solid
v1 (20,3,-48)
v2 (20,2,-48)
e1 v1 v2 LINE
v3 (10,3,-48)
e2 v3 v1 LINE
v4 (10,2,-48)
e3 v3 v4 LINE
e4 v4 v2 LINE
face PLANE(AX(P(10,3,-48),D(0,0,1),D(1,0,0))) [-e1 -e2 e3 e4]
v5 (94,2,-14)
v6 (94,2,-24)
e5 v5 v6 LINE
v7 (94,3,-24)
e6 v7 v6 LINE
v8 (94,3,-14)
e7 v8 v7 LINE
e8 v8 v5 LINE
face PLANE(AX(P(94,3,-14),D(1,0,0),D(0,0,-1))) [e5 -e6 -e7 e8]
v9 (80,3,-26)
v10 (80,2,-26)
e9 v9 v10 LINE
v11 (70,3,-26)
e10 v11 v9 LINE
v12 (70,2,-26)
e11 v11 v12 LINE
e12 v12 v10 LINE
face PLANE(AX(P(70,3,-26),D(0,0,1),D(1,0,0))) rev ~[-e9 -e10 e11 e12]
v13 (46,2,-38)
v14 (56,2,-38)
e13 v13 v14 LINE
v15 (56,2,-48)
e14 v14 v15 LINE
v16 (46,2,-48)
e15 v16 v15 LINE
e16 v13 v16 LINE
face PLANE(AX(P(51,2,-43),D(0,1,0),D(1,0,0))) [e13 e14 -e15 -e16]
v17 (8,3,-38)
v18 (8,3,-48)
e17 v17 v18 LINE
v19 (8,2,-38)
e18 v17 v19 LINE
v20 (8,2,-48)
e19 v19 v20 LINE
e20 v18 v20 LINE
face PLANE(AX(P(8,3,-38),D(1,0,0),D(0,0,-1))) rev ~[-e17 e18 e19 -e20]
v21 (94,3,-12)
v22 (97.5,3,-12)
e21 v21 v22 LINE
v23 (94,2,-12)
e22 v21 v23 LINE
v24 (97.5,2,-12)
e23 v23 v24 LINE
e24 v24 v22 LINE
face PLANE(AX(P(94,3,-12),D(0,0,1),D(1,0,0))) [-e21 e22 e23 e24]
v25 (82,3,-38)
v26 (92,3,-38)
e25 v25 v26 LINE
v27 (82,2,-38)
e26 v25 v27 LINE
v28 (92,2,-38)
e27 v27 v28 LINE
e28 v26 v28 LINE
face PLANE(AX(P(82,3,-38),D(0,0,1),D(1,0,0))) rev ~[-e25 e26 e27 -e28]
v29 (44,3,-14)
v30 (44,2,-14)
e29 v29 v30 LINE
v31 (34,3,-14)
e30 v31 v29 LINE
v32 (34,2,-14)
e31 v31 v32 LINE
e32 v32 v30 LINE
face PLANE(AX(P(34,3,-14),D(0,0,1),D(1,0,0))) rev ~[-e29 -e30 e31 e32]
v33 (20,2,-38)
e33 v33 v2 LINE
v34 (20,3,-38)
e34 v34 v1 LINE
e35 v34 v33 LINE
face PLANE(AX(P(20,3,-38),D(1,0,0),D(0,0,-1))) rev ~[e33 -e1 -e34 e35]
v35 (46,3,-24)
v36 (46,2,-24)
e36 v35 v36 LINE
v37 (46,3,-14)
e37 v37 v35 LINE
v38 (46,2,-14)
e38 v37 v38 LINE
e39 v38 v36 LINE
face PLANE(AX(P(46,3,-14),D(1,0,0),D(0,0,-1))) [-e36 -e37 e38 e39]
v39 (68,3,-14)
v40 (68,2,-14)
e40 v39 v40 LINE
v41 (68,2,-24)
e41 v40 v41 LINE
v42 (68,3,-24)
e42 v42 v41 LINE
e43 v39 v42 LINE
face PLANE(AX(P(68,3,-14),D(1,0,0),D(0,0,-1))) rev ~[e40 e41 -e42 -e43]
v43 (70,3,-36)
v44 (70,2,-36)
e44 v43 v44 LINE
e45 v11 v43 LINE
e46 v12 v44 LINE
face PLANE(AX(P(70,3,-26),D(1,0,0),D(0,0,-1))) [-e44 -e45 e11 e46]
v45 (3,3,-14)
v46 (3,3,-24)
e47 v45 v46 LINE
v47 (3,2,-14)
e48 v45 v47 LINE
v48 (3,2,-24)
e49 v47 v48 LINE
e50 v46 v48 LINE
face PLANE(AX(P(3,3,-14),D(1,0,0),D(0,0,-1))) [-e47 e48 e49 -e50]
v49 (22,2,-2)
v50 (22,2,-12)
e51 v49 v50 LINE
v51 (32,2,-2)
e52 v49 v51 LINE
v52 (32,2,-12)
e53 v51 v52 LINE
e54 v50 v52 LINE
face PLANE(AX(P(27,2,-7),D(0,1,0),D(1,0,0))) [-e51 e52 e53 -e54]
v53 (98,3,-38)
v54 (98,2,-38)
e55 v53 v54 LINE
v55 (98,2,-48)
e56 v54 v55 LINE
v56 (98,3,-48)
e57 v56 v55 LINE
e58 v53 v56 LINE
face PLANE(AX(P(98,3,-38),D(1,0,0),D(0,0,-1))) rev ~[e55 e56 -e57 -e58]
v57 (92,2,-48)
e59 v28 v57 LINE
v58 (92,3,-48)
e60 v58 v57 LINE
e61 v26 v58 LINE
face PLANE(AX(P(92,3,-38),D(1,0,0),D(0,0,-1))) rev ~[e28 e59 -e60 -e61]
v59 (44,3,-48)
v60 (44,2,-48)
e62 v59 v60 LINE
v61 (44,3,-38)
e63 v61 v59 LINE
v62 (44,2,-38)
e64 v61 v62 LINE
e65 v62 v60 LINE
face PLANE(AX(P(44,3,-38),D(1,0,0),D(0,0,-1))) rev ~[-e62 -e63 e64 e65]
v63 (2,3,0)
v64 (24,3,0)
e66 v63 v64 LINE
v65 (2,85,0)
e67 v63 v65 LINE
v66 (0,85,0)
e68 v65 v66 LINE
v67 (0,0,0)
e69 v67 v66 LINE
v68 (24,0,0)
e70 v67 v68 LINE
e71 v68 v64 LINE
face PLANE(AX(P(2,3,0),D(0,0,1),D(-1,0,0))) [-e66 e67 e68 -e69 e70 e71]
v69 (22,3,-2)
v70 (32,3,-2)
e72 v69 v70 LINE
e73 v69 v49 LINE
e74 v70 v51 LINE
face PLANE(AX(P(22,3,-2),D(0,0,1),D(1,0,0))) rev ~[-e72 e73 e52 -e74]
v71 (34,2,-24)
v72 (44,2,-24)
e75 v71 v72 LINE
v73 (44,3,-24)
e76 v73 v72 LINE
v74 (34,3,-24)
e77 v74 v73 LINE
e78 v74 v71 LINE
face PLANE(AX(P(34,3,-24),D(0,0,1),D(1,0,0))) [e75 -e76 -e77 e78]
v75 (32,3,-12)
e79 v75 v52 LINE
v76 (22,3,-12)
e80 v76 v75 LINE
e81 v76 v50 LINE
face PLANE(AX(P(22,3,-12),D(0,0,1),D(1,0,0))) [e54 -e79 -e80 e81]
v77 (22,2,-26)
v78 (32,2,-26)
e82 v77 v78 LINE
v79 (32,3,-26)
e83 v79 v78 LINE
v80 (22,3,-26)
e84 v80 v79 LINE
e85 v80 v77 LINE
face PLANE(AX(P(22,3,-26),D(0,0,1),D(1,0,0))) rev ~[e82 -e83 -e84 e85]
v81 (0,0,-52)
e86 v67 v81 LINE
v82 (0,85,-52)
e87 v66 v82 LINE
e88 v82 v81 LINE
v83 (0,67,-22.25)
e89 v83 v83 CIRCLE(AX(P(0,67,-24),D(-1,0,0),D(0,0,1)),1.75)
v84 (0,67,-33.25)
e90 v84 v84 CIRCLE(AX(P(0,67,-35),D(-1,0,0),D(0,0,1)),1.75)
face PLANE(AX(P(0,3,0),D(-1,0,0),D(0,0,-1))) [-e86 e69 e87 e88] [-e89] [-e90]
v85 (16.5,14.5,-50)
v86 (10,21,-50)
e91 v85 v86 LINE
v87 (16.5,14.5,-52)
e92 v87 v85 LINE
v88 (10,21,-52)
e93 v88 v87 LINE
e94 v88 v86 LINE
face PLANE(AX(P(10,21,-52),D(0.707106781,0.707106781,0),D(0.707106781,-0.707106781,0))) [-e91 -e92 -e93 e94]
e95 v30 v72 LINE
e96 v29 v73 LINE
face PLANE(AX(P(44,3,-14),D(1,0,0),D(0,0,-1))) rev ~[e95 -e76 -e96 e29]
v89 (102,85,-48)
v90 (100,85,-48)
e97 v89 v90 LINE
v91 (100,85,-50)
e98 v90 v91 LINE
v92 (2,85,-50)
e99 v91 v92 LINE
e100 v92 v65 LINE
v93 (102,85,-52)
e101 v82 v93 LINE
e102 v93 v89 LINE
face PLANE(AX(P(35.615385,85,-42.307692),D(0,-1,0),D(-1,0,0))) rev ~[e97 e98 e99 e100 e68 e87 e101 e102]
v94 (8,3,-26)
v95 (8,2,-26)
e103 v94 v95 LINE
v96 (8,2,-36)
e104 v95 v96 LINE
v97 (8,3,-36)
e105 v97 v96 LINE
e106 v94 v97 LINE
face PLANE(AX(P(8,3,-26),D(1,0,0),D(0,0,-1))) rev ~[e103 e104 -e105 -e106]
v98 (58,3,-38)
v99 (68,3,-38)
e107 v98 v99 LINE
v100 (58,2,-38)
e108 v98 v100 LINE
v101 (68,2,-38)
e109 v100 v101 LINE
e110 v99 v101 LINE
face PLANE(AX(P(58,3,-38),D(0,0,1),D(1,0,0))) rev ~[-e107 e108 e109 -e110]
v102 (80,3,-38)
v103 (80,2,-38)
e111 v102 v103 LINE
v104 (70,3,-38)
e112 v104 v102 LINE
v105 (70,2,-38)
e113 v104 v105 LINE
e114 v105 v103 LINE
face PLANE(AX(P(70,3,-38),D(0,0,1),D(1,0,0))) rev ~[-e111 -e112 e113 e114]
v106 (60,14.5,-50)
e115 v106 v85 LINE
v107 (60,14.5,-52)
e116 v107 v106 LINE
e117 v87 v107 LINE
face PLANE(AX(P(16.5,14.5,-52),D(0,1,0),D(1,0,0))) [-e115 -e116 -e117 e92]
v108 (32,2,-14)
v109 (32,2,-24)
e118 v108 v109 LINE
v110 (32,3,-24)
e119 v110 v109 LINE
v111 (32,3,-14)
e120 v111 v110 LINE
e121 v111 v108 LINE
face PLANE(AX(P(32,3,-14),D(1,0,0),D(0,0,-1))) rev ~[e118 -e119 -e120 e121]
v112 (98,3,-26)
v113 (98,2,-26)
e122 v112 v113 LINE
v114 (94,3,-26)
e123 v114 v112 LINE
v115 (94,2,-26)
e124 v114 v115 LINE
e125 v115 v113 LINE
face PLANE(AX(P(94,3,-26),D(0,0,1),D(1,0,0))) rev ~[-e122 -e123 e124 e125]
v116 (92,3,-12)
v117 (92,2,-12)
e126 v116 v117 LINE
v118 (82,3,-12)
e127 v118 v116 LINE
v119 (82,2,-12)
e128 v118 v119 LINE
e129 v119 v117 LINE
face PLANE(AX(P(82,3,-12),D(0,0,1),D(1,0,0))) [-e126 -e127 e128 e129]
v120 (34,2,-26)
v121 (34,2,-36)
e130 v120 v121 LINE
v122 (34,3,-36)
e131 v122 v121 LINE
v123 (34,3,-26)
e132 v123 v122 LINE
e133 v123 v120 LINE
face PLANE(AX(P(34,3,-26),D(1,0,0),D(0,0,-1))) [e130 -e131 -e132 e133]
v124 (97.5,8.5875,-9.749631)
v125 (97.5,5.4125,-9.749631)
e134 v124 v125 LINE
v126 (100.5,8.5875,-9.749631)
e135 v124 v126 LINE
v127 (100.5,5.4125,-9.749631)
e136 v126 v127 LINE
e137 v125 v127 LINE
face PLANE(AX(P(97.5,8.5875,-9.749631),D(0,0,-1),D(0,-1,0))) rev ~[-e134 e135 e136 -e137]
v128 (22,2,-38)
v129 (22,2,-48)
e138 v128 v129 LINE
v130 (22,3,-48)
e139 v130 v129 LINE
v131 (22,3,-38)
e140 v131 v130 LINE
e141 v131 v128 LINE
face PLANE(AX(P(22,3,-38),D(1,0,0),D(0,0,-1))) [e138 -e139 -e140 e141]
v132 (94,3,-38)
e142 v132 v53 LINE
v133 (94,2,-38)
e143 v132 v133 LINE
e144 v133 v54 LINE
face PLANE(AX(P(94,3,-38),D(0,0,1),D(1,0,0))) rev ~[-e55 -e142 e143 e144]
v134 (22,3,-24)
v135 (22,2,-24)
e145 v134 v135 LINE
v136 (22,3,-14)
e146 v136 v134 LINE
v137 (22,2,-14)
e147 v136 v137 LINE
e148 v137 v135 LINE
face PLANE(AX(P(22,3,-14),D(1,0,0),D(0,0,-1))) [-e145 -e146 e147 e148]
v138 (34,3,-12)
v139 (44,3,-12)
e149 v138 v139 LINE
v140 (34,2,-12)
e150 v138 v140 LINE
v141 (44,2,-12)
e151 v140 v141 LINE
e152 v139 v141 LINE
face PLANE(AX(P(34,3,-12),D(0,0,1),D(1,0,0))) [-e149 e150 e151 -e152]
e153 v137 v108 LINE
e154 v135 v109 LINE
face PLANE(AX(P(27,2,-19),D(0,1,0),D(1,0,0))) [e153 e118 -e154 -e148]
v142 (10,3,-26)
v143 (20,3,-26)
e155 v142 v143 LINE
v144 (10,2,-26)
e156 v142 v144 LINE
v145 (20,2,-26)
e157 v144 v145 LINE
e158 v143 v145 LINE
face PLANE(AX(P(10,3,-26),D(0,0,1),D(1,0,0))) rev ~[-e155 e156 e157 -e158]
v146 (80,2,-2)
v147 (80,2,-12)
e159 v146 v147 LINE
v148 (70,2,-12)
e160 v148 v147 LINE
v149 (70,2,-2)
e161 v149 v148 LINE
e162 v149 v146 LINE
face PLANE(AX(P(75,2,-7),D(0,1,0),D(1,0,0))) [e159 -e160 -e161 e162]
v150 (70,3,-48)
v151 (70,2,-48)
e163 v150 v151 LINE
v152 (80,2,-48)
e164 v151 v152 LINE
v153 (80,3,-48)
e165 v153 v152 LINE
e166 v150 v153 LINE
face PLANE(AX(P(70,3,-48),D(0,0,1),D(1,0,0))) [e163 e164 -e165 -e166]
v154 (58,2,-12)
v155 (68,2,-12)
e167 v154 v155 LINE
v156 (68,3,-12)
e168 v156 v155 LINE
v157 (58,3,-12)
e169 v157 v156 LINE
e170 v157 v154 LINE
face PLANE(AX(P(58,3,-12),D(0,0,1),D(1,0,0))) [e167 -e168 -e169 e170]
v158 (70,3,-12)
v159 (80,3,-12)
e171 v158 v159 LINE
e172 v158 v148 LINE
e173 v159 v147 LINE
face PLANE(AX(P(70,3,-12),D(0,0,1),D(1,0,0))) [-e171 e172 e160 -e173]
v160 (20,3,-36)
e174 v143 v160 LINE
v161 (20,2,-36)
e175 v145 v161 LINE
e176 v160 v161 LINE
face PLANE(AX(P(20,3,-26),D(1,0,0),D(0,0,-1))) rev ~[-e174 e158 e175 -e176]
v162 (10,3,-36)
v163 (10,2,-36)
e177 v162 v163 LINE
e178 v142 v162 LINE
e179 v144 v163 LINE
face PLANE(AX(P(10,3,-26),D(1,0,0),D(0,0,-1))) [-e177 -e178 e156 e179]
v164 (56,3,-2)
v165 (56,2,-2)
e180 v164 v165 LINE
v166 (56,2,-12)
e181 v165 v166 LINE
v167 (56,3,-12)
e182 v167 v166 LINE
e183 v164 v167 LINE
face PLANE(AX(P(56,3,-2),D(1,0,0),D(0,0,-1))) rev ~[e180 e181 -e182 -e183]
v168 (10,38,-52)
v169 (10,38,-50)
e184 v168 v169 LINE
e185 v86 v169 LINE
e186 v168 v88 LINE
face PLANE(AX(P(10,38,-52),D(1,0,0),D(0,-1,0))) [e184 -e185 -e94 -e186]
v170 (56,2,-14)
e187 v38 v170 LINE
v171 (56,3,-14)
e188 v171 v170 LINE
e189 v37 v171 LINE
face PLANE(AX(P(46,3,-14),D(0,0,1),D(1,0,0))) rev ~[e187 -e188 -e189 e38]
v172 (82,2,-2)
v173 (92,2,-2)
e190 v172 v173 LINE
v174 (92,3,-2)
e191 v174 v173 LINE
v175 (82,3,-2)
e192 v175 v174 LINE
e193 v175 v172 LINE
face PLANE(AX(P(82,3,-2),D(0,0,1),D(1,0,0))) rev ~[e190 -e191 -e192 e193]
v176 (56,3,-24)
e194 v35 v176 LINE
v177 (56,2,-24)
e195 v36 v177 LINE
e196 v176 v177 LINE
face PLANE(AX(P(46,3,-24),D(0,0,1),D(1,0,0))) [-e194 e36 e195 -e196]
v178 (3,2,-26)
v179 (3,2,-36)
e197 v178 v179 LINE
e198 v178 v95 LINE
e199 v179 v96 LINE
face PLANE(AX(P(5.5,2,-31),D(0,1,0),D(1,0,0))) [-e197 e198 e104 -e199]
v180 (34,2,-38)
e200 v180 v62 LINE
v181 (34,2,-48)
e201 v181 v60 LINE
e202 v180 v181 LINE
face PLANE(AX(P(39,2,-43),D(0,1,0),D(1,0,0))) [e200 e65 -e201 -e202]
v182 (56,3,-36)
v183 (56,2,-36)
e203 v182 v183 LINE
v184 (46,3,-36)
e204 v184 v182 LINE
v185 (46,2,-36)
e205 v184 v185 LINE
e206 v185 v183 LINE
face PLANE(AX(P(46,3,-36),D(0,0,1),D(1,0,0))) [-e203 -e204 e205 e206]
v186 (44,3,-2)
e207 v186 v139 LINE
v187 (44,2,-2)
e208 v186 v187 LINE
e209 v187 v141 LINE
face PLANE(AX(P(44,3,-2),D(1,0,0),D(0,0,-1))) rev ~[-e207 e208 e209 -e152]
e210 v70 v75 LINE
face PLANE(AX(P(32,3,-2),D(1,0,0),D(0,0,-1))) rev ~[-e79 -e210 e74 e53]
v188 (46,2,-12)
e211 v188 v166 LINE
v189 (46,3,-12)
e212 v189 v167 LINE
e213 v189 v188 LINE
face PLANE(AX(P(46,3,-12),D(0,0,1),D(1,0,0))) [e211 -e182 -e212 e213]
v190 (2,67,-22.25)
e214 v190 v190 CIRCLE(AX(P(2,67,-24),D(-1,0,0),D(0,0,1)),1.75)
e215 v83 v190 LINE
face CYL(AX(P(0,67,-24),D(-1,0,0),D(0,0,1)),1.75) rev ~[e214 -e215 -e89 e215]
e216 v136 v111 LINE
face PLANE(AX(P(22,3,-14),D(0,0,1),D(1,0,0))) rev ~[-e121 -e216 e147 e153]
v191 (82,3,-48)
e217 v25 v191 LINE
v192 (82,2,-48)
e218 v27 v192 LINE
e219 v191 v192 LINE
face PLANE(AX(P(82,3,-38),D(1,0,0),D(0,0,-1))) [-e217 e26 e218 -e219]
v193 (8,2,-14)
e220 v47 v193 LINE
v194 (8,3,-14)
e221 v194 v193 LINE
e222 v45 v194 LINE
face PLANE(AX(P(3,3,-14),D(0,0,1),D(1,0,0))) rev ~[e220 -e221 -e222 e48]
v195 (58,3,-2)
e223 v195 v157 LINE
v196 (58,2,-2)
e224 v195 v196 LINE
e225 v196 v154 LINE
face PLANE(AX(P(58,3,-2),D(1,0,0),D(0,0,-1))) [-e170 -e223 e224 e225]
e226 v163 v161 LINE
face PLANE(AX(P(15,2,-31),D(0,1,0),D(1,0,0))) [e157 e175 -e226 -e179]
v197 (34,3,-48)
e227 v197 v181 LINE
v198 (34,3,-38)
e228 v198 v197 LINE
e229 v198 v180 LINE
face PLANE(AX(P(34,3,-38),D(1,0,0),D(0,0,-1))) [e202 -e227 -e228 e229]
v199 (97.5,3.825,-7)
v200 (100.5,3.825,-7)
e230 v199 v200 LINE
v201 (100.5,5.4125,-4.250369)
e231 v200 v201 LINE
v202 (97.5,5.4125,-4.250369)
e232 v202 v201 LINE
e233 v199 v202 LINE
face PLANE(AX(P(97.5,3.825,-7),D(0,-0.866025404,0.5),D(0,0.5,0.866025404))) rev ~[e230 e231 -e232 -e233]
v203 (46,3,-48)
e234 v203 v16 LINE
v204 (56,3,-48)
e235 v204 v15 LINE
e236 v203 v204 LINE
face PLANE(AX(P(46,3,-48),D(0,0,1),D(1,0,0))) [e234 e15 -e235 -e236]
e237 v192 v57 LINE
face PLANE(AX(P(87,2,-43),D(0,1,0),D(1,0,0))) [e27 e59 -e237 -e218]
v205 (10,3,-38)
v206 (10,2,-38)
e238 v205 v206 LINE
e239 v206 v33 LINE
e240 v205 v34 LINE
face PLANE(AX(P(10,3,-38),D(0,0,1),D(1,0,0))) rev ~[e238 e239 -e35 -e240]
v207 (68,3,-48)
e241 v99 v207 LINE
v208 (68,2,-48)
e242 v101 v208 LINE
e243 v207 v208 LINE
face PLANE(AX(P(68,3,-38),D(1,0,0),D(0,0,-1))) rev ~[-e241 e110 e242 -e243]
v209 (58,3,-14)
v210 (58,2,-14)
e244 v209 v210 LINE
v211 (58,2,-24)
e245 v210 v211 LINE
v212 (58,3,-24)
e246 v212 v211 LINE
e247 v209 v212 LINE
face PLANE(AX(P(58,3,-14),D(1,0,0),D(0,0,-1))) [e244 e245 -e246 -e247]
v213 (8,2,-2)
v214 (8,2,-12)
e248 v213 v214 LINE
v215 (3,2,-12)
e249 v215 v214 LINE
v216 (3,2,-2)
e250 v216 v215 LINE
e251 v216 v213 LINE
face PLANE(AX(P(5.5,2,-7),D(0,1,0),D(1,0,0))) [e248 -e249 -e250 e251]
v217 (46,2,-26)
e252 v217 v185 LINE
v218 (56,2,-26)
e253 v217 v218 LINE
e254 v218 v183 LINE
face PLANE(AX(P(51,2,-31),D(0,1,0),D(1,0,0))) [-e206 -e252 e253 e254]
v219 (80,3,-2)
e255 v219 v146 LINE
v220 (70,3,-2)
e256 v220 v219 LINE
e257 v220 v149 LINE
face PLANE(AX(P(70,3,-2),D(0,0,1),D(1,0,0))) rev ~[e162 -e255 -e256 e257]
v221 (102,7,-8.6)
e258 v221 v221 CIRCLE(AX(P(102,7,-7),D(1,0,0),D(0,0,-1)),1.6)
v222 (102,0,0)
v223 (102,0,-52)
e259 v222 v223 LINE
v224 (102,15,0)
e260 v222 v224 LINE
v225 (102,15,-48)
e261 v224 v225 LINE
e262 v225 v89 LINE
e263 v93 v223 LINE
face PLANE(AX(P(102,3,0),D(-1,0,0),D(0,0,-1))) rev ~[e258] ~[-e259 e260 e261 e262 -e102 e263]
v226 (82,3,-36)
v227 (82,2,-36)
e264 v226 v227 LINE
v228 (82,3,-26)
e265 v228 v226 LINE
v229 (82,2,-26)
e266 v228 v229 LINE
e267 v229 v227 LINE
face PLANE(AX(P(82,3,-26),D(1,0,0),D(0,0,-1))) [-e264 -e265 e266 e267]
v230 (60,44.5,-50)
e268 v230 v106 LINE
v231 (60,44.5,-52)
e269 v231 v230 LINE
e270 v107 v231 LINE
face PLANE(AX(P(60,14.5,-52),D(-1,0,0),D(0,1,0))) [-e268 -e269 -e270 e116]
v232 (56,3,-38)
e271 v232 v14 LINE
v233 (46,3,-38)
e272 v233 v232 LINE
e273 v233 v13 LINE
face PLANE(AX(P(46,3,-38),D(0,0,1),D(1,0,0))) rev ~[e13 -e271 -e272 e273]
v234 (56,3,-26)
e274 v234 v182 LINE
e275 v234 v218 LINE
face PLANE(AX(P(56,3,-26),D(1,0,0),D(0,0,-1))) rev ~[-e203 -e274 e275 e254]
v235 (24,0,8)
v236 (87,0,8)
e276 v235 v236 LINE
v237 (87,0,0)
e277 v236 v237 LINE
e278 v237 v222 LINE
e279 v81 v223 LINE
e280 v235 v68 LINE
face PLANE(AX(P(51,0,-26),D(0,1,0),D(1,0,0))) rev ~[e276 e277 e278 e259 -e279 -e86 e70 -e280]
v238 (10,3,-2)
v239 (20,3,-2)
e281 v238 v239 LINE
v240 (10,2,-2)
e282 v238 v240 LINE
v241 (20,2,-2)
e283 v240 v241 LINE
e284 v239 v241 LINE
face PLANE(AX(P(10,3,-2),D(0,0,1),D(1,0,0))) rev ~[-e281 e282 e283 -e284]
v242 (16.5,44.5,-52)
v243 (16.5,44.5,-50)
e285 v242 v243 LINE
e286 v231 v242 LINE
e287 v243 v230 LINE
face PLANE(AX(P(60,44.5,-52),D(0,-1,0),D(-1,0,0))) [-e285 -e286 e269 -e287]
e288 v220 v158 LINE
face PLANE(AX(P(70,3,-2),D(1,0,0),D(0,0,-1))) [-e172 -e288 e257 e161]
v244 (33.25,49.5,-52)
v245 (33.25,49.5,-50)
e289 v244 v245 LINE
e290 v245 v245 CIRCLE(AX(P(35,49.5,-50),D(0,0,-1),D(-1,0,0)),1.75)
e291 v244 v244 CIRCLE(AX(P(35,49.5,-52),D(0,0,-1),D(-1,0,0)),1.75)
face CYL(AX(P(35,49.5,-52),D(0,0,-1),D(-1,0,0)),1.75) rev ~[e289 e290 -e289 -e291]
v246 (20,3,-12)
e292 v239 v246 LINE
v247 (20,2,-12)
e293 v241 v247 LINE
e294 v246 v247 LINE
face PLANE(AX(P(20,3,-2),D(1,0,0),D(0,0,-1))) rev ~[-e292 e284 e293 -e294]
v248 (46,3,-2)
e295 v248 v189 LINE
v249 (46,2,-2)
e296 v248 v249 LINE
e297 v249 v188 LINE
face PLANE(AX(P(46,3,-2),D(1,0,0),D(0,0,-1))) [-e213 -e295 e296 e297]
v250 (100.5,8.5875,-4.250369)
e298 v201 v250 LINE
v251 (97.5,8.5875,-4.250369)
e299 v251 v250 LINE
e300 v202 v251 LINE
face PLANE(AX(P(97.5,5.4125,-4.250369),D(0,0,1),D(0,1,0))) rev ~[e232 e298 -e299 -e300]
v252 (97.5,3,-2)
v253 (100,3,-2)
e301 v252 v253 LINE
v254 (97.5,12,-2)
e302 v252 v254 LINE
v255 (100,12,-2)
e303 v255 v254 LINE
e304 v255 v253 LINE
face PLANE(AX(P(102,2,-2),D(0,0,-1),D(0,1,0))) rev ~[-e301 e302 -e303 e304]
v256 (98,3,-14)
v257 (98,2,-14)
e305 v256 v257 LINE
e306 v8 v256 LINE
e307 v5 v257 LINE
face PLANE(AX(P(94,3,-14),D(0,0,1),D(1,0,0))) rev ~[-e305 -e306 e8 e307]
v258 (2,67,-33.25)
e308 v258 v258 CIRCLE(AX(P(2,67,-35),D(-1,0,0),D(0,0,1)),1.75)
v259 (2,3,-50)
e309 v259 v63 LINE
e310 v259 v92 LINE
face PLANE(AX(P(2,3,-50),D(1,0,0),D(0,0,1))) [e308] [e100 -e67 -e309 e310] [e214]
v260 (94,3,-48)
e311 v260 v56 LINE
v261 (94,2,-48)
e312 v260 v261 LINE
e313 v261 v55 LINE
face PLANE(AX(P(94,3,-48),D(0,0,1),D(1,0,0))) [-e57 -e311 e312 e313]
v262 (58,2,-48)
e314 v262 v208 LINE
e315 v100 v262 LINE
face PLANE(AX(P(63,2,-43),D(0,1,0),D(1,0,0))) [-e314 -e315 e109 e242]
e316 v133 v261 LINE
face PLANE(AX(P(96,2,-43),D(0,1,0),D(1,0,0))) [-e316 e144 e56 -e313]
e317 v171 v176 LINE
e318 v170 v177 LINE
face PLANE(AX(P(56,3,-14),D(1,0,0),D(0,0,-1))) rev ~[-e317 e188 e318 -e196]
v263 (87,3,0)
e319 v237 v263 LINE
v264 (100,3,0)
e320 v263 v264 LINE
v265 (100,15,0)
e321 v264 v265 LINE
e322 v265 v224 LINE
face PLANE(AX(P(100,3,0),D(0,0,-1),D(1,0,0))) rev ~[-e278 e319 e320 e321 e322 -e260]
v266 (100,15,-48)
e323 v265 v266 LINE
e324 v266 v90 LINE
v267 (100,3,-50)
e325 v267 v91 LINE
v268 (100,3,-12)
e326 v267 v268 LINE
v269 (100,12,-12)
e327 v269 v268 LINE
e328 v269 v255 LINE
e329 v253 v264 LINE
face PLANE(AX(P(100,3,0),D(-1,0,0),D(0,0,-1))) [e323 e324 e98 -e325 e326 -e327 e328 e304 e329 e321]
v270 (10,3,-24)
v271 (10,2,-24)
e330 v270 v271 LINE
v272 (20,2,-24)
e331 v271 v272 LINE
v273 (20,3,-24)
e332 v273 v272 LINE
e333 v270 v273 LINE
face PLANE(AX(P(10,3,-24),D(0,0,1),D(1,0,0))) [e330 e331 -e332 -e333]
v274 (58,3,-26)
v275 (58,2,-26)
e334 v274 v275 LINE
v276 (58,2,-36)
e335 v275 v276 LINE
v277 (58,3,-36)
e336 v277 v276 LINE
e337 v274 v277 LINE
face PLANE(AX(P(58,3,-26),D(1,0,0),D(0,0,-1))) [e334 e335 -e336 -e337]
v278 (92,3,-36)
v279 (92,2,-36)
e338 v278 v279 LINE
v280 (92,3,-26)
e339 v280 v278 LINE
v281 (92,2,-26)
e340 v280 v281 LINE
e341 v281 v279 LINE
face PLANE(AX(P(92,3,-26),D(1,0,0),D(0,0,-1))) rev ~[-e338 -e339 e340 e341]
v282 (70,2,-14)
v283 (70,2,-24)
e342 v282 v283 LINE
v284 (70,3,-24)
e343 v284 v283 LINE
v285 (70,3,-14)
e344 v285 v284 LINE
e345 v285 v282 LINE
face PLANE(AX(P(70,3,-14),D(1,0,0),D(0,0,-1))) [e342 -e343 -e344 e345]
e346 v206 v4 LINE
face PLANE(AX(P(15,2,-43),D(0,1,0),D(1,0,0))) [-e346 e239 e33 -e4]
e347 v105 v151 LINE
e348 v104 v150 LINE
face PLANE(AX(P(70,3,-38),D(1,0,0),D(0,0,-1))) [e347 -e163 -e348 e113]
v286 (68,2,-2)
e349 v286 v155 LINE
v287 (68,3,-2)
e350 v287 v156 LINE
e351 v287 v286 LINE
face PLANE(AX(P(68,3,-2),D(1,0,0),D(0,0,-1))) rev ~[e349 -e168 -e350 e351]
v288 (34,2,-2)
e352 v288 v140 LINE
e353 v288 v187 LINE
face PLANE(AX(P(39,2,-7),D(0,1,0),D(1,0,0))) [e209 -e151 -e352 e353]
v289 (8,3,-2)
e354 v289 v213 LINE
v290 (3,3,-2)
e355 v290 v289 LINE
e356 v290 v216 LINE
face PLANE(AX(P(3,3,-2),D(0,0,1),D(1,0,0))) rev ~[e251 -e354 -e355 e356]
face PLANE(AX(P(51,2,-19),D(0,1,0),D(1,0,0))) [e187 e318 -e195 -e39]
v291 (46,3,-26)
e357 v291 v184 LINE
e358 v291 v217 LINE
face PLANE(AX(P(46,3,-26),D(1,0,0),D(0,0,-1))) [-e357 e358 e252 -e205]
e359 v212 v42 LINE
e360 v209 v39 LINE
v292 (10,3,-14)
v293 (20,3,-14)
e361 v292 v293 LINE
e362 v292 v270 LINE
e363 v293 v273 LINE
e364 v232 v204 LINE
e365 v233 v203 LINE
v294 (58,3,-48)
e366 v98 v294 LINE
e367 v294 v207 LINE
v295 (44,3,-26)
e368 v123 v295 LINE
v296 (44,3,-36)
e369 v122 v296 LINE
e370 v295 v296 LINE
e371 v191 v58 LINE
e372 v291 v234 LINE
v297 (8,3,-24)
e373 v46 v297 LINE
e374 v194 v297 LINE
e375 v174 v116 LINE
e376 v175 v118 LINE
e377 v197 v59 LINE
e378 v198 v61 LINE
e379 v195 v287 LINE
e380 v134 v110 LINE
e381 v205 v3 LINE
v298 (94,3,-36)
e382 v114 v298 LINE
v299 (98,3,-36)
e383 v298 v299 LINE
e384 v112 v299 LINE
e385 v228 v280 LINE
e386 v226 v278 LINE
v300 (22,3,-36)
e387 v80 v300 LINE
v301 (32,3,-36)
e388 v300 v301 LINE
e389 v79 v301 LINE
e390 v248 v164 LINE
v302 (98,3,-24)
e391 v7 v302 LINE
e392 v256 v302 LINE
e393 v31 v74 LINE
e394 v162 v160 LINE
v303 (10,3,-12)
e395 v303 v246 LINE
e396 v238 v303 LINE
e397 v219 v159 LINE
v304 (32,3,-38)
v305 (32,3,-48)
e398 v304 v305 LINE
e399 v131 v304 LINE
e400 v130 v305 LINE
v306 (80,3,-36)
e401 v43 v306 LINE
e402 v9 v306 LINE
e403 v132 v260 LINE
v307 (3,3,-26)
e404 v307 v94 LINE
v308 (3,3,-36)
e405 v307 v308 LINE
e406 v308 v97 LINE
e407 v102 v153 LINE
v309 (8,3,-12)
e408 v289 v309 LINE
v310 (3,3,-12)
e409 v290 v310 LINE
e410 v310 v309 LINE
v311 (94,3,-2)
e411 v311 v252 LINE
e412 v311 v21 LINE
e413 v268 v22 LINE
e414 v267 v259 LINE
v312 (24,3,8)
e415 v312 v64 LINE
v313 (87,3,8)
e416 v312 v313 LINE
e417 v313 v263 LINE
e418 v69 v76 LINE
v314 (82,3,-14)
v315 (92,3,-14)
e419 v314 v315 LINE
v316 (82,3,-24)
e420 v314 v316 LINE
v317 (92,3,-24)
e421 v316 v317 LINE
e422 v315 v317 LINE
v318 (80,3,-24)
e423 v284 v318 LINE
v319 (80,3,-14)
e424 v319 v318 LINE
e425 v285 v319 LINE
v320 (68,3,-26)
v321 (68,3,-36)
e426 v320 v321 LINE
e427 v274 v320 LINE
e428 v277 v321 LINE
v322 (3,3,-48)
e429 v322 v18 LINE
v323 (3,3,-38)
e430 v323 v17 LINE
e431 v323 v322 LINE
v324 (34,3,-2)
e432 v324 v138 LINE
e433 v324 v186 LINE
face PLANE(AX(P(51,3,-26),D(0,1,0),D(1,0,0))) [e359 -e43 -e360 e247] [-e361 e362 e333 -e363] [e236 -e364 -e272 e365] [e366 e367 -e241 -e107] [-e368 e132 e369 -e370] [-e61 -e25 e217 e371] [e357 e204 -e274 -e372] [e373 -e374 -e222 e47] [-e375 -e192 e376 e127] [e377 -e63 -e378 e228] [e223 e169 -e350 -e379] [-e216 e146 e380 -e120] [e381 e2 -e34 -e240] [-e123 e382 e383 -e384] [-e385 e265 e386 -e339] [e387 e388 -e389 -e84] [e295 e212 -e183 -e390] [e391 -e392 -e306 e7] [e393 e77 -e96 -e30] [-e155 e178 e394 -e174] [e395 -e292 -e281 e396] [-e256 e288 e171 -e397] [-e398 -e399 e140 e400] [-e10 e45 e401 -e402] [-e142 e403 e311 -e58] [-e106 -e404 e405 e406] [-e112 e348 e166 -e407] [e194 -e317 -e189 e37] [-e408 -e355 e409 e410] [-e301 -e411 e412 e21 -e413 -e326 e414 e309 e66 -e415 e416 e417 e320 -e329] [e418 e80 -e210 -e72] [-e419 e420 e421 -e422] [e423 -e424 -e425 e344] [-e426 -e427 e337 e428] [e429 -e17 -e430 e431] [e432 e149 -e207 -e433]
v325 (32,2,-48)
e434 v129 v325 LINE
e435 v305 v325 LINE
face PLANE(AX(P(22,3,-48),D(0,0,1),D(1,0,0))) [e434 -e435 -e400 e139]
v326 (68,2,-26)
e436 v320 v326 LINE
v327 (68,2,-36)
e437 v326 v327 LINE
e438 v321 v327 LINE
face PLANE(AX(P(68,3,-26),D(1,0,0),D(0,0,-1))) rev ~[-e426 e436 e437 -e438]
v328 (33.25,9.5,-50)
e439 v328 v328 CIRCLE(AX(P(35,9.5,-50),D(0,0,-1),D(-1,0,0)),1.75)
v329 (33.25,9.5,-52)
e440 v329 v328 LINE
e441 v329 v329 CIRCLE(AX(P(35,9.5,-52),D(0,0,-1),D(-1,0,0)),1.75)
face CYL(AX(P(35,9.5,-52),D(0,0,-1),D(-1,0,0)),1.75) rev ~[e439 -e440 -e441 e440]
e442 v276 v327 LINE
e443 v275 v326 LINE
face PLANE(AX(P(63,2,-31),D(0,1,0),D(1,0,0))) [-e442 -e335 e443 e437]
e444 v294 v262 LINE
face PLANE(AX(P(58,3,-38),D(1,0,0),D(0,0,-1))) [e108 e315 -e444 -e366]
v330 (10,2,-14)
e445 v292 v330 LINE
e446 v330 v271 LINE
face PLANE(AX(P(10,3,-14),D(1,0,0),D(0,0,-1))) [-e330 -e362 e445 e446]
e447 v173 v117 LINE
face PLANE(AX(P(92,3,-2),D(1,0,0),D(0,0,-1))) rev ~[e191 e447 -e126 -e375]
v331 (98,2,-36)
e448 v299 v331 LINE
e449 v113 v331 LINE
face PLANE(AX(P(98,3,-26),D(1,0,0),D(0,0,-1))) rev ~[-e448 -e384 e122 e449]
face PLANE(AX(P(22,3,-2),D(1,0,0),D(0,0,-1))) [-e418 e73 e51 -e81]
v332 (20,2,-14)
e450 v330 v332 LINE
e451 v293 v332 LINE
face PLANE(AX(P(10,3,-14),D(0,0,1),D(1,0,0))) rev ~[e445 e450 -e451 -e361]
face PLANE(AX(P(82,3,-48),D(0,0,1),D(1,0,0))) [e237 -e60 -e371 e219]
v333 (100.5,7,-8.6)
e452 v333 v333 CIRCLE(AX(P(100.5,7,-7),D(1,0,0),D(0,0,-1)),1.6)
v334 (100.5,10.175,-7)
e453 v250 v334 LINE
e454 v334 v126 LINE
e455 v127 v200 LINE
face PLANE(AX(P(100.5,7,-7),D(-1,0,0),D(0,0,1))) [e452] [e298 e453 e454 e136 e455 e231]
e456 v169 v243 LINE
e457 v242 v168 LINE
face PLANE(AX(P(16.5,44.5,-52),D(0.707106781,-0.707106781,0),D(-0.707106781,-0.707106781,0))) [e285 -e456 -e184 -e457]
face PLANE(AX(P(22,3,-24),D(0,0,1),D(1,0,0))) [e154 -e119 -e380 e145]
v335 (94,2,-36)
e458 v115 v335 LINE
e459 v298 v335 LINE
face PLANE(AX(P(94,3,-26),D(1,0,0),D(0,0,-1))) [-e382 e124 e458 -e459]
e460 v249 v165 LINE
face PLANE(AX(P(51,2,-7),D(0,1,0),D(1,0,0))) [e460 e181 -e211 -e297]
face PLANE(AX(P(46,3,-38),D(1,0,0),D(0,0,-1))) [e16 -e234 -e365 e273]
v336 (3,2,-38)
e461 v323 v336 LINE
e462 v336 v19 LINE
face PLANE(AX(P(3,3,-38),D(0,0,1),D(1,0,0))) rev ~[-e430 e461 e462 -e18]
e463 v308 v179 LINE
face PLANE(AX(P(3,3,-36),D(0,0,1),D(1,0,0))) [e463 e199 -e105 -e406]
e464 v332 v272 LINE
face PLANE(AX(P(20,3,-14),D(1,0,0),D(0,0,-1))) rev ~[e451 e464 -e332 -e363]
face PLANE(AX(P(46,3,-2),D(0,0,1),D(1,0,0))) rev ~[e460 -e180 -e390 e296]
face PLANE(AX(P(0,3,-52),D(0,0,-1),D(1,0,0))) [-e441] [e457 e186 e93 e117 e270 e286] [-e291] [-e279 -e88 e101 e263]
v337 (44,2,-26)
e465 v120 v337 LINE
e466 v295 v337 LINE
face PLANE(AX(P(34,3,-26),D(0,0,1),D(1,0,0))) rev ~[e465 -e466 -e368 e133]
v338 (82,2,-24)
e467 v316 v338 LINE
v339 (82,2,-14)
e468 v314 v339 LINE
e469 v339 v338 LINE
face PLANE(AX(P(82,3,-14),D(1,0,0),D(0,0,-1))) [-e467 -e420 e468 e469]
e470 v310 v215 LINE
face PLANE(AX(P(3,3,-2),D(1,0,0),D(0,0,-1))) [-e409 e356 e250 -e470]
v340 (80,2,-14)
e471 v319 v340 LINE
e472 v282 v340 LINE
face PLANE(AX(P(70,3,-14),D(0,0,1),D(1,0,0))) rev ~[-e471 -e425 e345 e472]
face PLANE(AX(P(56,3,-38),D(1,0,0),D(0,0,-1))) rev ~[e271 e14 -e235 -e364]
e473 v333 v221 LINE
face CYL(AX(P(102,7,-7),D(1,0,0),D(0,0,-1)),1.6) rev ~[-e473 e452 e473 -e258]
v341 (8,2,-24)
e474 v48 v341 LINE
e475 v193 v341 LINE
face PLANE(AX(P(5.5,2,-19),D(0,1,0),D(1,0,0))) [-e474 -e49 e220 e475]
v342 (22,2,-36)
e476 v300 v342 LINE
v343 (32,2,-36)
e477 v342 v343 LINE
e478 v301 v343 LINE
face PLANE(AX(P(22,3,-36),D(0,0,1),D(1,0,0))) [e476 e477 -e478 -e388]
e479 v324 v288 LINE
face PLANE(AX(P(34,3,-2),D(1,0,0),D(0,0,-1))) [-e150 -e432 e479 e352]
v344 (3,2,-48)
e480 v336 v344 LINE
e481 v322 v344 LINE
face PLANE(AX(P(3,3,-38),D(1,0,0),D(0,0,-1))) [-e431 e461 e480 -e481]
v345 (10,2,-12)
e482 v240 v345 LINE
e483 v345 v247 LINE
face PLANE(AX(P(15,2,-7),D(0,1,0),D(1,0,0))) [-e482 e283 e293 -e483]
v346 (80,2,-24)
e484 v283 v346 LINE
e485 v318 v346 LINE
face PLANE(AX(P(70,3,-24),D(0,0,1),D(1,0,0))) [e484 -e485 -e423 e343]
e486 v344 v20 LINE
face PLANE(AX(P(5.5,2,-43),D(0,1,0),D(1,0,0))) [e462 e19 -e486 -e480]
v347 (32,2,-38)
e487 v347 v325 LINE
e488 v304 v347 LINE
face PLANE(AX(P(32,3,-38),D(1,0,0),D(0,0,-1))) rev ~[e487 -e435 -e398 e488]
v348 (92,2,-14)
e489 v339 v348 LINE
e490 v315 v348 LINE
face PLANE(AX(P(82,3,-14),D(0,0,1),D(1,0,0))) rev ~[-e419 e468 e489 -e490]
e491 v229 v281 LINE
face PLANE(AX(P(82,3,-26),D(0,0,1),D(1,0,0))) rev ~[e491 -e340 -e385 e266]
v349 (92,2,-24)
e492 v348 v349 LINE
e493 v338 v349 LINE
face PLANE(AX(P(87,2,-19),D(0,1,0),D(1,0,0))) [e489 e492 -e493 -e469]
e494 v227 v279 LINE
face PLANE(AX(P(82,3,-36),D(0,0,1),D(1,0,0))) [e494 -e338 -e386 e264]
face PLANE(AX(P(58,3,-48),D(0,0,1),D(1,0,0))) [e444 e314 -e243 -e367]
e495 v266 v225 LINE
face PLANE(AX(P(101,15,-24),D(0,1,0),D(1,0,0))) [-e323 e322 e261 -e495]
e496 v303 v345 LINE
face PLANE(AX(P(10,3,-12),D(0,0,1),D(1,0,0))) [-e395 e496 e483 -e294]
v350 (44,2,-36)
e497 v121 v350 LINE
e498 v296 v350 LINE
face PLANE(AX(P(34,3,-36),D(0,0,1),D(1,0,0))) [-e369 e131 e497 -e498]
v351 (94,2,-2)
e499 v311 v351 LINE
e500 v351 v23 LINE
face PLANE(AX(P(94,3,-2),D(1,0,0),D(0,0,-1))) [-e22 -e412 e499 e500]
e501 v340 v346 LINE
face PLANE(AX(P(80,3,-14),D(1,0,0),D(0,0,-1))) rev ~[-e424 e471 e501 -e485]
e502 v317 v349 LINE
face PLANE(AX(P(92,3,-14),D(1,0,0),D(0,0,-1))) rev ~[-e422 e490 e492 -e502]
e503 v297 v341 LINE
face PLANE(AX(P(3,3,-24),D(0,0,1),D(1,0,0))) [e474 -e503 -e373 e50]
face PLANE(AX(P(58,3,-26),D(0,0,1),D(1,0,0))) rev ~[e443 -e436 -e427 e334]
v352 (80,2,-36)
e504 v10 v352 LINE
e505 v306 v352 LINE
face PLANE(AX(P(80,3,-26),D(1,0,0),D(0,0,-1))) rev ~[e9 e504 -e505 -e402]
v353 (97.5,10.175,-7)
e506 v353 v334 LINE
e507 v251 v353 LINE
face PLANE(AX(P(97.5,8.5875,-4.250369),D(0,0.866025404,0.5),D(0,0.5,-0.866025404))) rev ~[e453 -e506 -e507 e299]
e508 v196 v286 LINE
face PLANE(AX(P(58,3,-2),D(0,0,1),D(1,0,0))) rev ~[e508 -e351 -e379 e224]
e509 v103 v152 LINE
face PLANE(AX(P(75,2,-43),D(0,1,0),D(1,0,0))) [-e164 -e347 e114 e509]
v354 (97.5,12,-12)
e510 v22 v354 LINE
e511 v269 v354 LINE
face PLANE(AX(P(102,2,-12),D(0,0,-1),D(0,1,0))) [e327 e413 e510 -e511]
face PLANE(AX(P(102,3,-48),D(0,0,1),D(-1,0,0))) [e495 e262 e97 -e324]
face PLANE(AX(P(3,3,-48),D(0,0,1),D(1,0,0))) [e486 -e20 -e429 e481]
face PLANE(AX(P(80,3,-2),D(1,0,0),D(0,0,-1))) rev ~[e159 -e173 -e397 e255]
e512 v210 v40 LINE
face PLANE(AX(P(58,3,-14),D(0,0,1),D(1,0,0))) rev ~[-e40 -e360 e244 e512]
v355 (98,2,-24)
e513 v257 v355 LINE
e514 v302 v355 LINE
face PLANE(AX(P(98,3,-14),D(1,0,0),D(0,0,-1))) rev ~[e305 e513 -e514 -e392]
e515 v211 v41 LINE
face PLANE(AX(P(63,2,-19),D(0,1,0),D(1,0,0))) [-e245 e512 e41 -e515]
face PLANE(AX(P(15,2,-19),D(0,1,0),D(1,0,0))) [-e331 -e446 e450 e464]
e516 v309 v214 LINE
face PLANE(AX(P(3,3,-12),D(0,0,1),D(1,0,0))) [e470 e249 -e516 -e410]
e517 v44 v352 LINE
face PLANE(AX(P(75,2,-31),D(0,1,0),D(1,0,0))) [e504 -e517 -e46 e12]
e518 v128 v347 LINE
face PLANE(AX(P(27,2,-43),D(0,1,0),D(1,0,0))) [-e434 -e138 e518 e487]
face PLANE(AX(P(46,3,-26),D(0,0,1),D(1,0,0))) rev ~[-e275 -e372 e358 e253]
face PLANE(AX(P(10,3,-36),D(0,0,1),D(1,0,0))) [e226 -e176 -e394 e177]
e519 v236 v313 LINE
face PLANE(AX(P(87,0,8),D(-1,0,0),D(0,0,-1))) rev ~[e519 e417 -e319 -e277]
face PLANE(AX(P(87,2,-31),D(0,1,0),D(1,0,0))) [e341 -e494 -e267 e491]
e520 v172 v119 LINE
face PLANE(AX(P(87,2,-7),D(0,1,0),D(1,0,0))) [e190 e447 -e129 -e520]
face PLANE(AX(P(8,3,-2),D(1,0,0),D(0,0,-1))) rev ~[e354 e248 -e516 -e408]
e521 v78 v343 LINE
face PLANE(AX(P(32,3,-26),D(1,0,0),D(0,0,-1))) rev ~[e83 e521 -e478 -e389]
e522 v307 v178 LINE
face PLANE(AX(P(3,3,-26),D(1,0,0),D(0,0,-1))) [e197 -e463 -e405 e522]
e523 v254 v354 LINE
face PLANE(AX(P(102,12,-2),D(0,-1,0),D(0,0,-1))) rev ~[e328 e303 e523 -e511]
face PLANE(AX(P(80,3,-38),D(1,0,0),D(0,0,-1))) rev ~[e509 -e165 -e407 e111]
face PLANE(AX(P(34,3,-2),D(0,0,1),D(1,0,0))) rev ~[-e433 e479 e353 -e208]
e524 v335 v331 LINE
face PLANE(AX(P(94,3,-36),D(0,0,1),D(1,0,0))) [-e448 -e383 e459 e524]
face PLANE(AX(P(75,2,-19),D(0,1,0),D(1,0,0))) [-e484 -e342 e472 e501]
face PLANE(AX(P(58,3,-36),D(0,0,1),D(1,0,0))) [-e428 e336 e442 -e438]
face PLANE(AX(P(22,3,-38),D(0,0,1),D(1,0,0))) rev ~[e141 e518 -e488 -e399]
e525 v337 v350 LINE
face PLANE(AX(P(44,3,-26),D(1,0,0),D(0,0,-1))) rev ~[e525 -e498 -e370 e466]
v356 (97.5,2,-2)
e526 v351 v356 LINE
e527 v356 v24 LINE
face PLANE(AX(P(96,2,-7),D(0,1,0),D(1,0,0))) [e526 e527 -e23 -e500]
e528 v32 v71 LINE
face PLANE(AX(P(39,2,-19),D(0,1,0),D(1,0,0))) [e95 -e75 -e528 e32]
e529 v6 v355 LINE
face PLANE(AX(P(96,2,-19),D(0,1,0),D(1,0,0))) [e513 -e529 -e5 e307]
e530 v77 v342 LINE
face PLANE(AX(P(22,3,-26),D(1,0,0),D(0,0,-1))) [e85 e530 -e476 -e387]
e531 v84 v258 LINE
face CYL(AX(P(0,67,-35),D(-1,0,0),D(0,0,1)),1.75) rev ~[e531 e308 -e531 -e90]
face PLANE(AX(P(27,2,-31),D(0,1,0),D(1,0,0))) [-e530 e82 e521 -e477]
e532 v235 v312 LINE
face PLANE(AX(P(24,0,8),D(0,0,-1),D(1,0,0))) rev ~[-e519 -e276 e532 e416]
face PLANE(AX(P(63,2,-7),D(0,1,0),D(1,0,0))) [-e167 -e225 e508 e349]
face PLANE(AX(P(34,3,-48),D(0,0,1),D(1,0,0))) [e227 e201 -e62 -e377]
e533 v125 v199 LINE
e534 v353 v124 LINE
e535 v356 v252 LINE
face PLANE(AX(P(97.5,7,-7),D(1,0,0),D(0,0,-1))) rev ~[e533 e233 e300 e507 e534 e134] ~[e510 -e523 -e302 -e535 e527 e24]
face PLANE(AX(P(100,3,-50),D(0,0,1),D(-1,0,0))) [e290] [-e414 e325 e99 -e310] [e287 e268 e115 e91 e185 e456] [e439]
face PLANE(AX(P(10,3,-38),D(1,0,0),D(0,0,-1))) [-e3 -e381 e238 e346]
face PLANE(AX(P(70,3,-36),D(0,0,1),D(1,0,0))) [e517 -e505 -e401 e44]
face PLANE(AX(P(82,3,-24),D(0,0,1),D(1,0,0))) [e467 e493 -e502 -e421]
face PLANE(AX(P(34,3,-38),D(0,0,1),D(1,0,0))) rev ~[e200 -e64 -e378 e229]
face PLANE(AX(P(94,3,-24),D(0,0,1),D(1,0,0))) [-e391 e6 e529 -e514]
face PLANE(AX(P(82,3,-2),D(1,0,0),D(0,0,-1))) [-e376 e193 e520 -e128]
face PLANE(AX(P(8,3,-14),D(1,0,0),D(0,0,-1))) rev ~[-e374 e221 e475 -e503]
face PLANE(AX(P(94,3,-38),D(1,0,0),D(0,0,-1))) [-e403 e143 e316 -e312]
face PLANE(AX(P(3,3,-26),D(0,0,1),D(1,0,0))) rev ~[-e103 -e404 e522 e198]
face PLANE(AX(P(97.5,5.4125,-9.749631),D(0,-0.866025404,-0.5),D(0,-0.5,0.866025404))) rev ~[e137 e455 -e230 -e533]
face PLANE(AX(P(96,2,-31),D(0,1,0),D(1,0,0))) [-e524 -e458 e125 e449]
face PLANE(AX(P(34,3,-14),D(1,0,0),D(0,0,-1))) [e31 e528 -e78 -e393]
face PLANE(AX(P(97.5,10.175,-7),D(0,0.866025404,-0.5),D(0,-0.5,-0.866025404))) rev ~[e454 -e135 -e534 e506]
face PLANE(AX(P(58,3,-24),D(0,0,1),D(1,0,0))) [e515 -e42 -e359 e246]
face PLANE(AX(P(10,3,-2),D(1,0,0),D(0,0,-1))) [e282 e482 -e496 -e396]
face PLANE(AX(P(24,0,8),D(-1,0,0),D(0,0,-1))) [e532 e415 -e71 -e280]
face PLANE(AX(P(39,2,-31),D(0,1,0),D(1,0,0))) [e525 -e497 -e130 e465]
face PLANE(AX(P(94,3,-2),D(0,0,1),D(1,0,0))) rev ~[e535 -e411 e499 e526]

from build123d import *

# Parameters (mm, degrees)
SKETCH1_W           = 102
SKETCH1_H           = 52
SKETCH1_W_2         = 63
SKETCH1_H_2         = 8
BOSS_EXTRUDE1_DEPTH = 3
BOSS_EXTRUDE2_DEPTH = 82
SKETCH3_W           = 2
SKETCH3_H           = 48
BOSS_EXTRUDE3_DEPTH = 12
CUT_EXTRUDE1_REACH  = 144.594
SKETCH4_R           = 1.6
SKETCH5_W           = 10
SKETCH5_H           = 10
SKETCH5_W_2         = 5
SKETCH5_W_3         = 4
CUT_EXTRUDE2_DEPTH  = 1
SKETCH6_W           = 10
SKETCH6_H           = 10
SKETCH6_R           = 1.6
BOSS_EXTRUDE4_DEPTH = 4.5
CUT_EXTRUDE3_DEPTH  = 3
SKETCH8_R           = 1.75
CUT_EXTRUDE4_DEPTH  = 3
SKETCH9_R           = 1.75
CUT_EXTRUDE5_DEPTH  = 3


with BuildPart() as part:
    # Sketch1 → Boss-Extrude1 (new body)
    with BuildSketch(Plane(origin=(0, 0, 0), x_dir=(1, 0, 0), z_dir=(0, 1, 0))):
        with Locations((51, 26)):
            Rectangle(SKETCH1_W, SKETCH1_H)
        with Locations((55.5, -4)):
            Rectangle(SKETCH1_W_2, SKETCH1_H_2)
    extrude(amount=BOSS_EXTRUDE1_DEPTH)

    # Sketch2 → Boss-Extrude2 (add)
    with BuildSketch(Plane(origin=(0, 3, 0), x_dir=(1, 0, 0), z_dir=(0, 1, 0))):
        Polygon((0, 0), (0, 52), (102, 52), (102, 48), (100, 48), (100, 50), (2, 50), (2, 0), align=None)
    extrude(amount=BOSS_EXTRUDE2_DEPTH)

    # Sketch3 → Boss-Extrude3 (add)
    with BuildSketch(Plane(origin=(0, 3, 0), x_dir=(1, 0, 0), z_dir=(0, 1, 0))):
        with Locations((101, 24)):
            Rectangle(SKETCH3_W, SKETCH3_H)
    extrude(amount=BOSS_EXTRUDE3_DEPTH)

    # Sketch4 → Cut-Extrude1 (cut, up to next)
    with BuildSketch(Plane(origin=(102, 0, 0), x_dir=(0, 0, -1), z_dir=(1, 0, 0)), mode=Mode.PRIVATE) as cut_extrude1_sk1:
        with Locations((7, 7)):
            Circle(SKETCH4_R)
    cut_extrude1_tool1 = extrude(cut_extrude1_sk1.sketch, amount=-CUT_EXTRUDE1_REACH, mode=Mode.PRIVATE) & part.part
    add(cut_extrude1_tool1.solids().sort_by_distance((102, 7, -7))[0], mode=Mode.SUBTRACT)

    # Sketch5 → Cut-Extrude2 (cut)
    with BuildSketch(Plane(origin=(0, 3, 0), x_dir=(1, 0, 0), z_dir=(0, 1, 0))):
        with Locations((87, 7)):
            Rectangle(SKETCH5_W, SKETCH5_H)
        with Locations((75, 7)):
            Rectangle(SKETCH5_W, SKETCH5_H)
        with Locations((63, 7)):
            Rectangle(SKETCH5_W, SKETCH5_H)
        with Locations((51, 7)):
            Rectangle(SKETCH5_W, SKETCH5_H)
        with Locations((39, 7)):
            Rectangle(SKETCH5_W, SKETCH5_H)
        with Locations((27, 7)):
            Rectangle(SKETCH5_W, SKETCH5_H)
        with Locations((15, 7)):
            Rectangle(SKETCH5_W, SKETCH5_H)
        with Locations((75, 19)):
            Rectangle(SKETCH5_W, SKETCH5_H)
        with Locations((63, 19)):
            Rectangle(SKETCH5_W, SKETCH5_H)
        with Locations((51, 19)):
            Rectangle(SKETCH5_W, SKETCH5_H)
        with Locations((39, 19)):
            Rectangle(SKETCH5_W, SKETCH5_H)
        with Locations((27, 19)):
            Rectangle(SKETCH5_W, SKETCH5_H)
        with Locations((15, 19)):
            Rectangle(SKETCH5_W, SKETCH5_H)
        with Locations((75, 31)):
            Rectangle(SKETCH5_W, SKETCH5_H)
        with Locations((63, 31)):
            Rectangle(SKETCH5_W, SKETCH5_H)
        with Locations((51, 31)):
            Rectangle(SKETCH5_W, SKETCH5_H)
        with Locations((39, 31)):
            Rectangle(SKETCH5_W, SKETCH5_H)
        with Locations((27, 31)):
            Rectangle(SKETCH5_W, SKETCH5_H)
        with Locations((15, 31)):
            Rectangle(SKETCH5_W, SKETCH5_H)
        with Locations((75, 43)):
            Rectangle(SKETCH5_W, SKETCH5_H)
        with Locations((63, 43)):
            Rectangle(SKETCH5_W, SKETCH5_H)
        with Locations((51, 43)):
            Rectangle(SKETCH5_W, SKETCH5_H)
        with Locations((39, 43)):
            Rectangle(SKETCH5_W, SKETCH5_H)
        with Locations((27, 43)):
            Rectangle(SKETCH5_W, SKETCH5_H)
        with Locations((15, 43)):
            Rectangle(SKETCH5_W, SKETCH5_H)
        with Locations((87, 19)):
            Rectangle(SKETCH5_W, SKETCH5_H)
        with Locations((87, 31)):
            Rectangle(SKETCH5_W, SKETCH5_H)
        with Locations((87, 43)):
            Rectangle(SKETCH5_W, SKETCH5_H)
        with Locations((5.5, 7)):
            Rectangle(SKETCH5_W_2, SKETCH5_H)
        with Locations((5.5, 19)):
            Rectangle(SKETCH5_W_2, SKETCH5_H)
        with Locations((5.5, 31)):
            Rectangle(SKETCH5_W_2, SKETCH5_H)
        with Locations((5.5, 43)):
            Rectangle(SKETCH5_W_2, SKETCH5_H)
        with Locations((96, 43)):
            Rectangle(SKETCH5_W_3, SKETCH5_H)
        with Locations((96, 31)):
            Rectangle(SKETCH5_W_3, SKETCH5_H)
        with Locations((96, 19)):
            Rectangle(SKETCH5_W_3, SKETCH5_H)
        with Locations((96, 7)):
            Rectangle(SKETCH5_W_3, SKETCH5_H)
    extrude(amount=-CUT_EXTRUDE2_DEPTH, mode=Mode.SUBTRACT)

    # Sketch6 → Boss-Extrude4 (add)
    with BuildSketch(Plane(origin=(102, 0, 0), x_dir=(0, 0, -1), z_dir=(1, 0, 0))):
        with Locations((7, 7)):
            Rectangle(SKETCH6_W, SKETCH6_H)
        with Locations((7, 7)):
            Circle(SKETCH6_R, mode=Mode.SUBTRACT)
    extrude(amount=-BOSS_EXTRUDE4_DEPTH)

    # Sketch7 → Cut-Extrude3 (cut)
    with BuildSketch(Plane.ZY.offset(-97.5)):
        Polygon((-4.250369343, 8.5875), (-7, 10.175), (-9.749630657, 8.5875), (-9.749630657, 5.4125), (-7, 3.825), (-4.250369343, 5.4125), align=None)
    extrude(amount=-CUT_EXTRUDE3_DEPTH, mode=Mode.SUBTRACT)

    # Sketch8 → Cut-Extrude4 (cut)
    with BuildSketch(Plane(origin=(0, 0, -52), x_dir=(-1, 0, 0), z_dir=(0, 0, -1))):
        with Locations((-35, 49.5)):
            Circle(SKETCH8_R)
        with Locations((-35, 9.5)):
            Circle(SKETCH8_R)
        Polygon((-16.5, 14.5), (-60, 14.5), (-60, 44.5), (-16.5, 44.5), (-10, 38), (-10, 21), align=None)
    extrude(amount=-CUT_EXTRUDE4_DEPTH, mode=Mode.SUBTRACT)

    # Sketch9 → Cut-Extrude5 (cut)
    with BuildSketch(Plane.ZY):
        with Locations((-24, 67)):
            Circle(SKETCH9_R)
        with Locations((-35, 67)):
            Circle(SKETCH9_R)
    extrude(amount=-CUT_EXTRUDE5_DEPTH, mode=Mode.SUBTRACT)


solid = part.part
